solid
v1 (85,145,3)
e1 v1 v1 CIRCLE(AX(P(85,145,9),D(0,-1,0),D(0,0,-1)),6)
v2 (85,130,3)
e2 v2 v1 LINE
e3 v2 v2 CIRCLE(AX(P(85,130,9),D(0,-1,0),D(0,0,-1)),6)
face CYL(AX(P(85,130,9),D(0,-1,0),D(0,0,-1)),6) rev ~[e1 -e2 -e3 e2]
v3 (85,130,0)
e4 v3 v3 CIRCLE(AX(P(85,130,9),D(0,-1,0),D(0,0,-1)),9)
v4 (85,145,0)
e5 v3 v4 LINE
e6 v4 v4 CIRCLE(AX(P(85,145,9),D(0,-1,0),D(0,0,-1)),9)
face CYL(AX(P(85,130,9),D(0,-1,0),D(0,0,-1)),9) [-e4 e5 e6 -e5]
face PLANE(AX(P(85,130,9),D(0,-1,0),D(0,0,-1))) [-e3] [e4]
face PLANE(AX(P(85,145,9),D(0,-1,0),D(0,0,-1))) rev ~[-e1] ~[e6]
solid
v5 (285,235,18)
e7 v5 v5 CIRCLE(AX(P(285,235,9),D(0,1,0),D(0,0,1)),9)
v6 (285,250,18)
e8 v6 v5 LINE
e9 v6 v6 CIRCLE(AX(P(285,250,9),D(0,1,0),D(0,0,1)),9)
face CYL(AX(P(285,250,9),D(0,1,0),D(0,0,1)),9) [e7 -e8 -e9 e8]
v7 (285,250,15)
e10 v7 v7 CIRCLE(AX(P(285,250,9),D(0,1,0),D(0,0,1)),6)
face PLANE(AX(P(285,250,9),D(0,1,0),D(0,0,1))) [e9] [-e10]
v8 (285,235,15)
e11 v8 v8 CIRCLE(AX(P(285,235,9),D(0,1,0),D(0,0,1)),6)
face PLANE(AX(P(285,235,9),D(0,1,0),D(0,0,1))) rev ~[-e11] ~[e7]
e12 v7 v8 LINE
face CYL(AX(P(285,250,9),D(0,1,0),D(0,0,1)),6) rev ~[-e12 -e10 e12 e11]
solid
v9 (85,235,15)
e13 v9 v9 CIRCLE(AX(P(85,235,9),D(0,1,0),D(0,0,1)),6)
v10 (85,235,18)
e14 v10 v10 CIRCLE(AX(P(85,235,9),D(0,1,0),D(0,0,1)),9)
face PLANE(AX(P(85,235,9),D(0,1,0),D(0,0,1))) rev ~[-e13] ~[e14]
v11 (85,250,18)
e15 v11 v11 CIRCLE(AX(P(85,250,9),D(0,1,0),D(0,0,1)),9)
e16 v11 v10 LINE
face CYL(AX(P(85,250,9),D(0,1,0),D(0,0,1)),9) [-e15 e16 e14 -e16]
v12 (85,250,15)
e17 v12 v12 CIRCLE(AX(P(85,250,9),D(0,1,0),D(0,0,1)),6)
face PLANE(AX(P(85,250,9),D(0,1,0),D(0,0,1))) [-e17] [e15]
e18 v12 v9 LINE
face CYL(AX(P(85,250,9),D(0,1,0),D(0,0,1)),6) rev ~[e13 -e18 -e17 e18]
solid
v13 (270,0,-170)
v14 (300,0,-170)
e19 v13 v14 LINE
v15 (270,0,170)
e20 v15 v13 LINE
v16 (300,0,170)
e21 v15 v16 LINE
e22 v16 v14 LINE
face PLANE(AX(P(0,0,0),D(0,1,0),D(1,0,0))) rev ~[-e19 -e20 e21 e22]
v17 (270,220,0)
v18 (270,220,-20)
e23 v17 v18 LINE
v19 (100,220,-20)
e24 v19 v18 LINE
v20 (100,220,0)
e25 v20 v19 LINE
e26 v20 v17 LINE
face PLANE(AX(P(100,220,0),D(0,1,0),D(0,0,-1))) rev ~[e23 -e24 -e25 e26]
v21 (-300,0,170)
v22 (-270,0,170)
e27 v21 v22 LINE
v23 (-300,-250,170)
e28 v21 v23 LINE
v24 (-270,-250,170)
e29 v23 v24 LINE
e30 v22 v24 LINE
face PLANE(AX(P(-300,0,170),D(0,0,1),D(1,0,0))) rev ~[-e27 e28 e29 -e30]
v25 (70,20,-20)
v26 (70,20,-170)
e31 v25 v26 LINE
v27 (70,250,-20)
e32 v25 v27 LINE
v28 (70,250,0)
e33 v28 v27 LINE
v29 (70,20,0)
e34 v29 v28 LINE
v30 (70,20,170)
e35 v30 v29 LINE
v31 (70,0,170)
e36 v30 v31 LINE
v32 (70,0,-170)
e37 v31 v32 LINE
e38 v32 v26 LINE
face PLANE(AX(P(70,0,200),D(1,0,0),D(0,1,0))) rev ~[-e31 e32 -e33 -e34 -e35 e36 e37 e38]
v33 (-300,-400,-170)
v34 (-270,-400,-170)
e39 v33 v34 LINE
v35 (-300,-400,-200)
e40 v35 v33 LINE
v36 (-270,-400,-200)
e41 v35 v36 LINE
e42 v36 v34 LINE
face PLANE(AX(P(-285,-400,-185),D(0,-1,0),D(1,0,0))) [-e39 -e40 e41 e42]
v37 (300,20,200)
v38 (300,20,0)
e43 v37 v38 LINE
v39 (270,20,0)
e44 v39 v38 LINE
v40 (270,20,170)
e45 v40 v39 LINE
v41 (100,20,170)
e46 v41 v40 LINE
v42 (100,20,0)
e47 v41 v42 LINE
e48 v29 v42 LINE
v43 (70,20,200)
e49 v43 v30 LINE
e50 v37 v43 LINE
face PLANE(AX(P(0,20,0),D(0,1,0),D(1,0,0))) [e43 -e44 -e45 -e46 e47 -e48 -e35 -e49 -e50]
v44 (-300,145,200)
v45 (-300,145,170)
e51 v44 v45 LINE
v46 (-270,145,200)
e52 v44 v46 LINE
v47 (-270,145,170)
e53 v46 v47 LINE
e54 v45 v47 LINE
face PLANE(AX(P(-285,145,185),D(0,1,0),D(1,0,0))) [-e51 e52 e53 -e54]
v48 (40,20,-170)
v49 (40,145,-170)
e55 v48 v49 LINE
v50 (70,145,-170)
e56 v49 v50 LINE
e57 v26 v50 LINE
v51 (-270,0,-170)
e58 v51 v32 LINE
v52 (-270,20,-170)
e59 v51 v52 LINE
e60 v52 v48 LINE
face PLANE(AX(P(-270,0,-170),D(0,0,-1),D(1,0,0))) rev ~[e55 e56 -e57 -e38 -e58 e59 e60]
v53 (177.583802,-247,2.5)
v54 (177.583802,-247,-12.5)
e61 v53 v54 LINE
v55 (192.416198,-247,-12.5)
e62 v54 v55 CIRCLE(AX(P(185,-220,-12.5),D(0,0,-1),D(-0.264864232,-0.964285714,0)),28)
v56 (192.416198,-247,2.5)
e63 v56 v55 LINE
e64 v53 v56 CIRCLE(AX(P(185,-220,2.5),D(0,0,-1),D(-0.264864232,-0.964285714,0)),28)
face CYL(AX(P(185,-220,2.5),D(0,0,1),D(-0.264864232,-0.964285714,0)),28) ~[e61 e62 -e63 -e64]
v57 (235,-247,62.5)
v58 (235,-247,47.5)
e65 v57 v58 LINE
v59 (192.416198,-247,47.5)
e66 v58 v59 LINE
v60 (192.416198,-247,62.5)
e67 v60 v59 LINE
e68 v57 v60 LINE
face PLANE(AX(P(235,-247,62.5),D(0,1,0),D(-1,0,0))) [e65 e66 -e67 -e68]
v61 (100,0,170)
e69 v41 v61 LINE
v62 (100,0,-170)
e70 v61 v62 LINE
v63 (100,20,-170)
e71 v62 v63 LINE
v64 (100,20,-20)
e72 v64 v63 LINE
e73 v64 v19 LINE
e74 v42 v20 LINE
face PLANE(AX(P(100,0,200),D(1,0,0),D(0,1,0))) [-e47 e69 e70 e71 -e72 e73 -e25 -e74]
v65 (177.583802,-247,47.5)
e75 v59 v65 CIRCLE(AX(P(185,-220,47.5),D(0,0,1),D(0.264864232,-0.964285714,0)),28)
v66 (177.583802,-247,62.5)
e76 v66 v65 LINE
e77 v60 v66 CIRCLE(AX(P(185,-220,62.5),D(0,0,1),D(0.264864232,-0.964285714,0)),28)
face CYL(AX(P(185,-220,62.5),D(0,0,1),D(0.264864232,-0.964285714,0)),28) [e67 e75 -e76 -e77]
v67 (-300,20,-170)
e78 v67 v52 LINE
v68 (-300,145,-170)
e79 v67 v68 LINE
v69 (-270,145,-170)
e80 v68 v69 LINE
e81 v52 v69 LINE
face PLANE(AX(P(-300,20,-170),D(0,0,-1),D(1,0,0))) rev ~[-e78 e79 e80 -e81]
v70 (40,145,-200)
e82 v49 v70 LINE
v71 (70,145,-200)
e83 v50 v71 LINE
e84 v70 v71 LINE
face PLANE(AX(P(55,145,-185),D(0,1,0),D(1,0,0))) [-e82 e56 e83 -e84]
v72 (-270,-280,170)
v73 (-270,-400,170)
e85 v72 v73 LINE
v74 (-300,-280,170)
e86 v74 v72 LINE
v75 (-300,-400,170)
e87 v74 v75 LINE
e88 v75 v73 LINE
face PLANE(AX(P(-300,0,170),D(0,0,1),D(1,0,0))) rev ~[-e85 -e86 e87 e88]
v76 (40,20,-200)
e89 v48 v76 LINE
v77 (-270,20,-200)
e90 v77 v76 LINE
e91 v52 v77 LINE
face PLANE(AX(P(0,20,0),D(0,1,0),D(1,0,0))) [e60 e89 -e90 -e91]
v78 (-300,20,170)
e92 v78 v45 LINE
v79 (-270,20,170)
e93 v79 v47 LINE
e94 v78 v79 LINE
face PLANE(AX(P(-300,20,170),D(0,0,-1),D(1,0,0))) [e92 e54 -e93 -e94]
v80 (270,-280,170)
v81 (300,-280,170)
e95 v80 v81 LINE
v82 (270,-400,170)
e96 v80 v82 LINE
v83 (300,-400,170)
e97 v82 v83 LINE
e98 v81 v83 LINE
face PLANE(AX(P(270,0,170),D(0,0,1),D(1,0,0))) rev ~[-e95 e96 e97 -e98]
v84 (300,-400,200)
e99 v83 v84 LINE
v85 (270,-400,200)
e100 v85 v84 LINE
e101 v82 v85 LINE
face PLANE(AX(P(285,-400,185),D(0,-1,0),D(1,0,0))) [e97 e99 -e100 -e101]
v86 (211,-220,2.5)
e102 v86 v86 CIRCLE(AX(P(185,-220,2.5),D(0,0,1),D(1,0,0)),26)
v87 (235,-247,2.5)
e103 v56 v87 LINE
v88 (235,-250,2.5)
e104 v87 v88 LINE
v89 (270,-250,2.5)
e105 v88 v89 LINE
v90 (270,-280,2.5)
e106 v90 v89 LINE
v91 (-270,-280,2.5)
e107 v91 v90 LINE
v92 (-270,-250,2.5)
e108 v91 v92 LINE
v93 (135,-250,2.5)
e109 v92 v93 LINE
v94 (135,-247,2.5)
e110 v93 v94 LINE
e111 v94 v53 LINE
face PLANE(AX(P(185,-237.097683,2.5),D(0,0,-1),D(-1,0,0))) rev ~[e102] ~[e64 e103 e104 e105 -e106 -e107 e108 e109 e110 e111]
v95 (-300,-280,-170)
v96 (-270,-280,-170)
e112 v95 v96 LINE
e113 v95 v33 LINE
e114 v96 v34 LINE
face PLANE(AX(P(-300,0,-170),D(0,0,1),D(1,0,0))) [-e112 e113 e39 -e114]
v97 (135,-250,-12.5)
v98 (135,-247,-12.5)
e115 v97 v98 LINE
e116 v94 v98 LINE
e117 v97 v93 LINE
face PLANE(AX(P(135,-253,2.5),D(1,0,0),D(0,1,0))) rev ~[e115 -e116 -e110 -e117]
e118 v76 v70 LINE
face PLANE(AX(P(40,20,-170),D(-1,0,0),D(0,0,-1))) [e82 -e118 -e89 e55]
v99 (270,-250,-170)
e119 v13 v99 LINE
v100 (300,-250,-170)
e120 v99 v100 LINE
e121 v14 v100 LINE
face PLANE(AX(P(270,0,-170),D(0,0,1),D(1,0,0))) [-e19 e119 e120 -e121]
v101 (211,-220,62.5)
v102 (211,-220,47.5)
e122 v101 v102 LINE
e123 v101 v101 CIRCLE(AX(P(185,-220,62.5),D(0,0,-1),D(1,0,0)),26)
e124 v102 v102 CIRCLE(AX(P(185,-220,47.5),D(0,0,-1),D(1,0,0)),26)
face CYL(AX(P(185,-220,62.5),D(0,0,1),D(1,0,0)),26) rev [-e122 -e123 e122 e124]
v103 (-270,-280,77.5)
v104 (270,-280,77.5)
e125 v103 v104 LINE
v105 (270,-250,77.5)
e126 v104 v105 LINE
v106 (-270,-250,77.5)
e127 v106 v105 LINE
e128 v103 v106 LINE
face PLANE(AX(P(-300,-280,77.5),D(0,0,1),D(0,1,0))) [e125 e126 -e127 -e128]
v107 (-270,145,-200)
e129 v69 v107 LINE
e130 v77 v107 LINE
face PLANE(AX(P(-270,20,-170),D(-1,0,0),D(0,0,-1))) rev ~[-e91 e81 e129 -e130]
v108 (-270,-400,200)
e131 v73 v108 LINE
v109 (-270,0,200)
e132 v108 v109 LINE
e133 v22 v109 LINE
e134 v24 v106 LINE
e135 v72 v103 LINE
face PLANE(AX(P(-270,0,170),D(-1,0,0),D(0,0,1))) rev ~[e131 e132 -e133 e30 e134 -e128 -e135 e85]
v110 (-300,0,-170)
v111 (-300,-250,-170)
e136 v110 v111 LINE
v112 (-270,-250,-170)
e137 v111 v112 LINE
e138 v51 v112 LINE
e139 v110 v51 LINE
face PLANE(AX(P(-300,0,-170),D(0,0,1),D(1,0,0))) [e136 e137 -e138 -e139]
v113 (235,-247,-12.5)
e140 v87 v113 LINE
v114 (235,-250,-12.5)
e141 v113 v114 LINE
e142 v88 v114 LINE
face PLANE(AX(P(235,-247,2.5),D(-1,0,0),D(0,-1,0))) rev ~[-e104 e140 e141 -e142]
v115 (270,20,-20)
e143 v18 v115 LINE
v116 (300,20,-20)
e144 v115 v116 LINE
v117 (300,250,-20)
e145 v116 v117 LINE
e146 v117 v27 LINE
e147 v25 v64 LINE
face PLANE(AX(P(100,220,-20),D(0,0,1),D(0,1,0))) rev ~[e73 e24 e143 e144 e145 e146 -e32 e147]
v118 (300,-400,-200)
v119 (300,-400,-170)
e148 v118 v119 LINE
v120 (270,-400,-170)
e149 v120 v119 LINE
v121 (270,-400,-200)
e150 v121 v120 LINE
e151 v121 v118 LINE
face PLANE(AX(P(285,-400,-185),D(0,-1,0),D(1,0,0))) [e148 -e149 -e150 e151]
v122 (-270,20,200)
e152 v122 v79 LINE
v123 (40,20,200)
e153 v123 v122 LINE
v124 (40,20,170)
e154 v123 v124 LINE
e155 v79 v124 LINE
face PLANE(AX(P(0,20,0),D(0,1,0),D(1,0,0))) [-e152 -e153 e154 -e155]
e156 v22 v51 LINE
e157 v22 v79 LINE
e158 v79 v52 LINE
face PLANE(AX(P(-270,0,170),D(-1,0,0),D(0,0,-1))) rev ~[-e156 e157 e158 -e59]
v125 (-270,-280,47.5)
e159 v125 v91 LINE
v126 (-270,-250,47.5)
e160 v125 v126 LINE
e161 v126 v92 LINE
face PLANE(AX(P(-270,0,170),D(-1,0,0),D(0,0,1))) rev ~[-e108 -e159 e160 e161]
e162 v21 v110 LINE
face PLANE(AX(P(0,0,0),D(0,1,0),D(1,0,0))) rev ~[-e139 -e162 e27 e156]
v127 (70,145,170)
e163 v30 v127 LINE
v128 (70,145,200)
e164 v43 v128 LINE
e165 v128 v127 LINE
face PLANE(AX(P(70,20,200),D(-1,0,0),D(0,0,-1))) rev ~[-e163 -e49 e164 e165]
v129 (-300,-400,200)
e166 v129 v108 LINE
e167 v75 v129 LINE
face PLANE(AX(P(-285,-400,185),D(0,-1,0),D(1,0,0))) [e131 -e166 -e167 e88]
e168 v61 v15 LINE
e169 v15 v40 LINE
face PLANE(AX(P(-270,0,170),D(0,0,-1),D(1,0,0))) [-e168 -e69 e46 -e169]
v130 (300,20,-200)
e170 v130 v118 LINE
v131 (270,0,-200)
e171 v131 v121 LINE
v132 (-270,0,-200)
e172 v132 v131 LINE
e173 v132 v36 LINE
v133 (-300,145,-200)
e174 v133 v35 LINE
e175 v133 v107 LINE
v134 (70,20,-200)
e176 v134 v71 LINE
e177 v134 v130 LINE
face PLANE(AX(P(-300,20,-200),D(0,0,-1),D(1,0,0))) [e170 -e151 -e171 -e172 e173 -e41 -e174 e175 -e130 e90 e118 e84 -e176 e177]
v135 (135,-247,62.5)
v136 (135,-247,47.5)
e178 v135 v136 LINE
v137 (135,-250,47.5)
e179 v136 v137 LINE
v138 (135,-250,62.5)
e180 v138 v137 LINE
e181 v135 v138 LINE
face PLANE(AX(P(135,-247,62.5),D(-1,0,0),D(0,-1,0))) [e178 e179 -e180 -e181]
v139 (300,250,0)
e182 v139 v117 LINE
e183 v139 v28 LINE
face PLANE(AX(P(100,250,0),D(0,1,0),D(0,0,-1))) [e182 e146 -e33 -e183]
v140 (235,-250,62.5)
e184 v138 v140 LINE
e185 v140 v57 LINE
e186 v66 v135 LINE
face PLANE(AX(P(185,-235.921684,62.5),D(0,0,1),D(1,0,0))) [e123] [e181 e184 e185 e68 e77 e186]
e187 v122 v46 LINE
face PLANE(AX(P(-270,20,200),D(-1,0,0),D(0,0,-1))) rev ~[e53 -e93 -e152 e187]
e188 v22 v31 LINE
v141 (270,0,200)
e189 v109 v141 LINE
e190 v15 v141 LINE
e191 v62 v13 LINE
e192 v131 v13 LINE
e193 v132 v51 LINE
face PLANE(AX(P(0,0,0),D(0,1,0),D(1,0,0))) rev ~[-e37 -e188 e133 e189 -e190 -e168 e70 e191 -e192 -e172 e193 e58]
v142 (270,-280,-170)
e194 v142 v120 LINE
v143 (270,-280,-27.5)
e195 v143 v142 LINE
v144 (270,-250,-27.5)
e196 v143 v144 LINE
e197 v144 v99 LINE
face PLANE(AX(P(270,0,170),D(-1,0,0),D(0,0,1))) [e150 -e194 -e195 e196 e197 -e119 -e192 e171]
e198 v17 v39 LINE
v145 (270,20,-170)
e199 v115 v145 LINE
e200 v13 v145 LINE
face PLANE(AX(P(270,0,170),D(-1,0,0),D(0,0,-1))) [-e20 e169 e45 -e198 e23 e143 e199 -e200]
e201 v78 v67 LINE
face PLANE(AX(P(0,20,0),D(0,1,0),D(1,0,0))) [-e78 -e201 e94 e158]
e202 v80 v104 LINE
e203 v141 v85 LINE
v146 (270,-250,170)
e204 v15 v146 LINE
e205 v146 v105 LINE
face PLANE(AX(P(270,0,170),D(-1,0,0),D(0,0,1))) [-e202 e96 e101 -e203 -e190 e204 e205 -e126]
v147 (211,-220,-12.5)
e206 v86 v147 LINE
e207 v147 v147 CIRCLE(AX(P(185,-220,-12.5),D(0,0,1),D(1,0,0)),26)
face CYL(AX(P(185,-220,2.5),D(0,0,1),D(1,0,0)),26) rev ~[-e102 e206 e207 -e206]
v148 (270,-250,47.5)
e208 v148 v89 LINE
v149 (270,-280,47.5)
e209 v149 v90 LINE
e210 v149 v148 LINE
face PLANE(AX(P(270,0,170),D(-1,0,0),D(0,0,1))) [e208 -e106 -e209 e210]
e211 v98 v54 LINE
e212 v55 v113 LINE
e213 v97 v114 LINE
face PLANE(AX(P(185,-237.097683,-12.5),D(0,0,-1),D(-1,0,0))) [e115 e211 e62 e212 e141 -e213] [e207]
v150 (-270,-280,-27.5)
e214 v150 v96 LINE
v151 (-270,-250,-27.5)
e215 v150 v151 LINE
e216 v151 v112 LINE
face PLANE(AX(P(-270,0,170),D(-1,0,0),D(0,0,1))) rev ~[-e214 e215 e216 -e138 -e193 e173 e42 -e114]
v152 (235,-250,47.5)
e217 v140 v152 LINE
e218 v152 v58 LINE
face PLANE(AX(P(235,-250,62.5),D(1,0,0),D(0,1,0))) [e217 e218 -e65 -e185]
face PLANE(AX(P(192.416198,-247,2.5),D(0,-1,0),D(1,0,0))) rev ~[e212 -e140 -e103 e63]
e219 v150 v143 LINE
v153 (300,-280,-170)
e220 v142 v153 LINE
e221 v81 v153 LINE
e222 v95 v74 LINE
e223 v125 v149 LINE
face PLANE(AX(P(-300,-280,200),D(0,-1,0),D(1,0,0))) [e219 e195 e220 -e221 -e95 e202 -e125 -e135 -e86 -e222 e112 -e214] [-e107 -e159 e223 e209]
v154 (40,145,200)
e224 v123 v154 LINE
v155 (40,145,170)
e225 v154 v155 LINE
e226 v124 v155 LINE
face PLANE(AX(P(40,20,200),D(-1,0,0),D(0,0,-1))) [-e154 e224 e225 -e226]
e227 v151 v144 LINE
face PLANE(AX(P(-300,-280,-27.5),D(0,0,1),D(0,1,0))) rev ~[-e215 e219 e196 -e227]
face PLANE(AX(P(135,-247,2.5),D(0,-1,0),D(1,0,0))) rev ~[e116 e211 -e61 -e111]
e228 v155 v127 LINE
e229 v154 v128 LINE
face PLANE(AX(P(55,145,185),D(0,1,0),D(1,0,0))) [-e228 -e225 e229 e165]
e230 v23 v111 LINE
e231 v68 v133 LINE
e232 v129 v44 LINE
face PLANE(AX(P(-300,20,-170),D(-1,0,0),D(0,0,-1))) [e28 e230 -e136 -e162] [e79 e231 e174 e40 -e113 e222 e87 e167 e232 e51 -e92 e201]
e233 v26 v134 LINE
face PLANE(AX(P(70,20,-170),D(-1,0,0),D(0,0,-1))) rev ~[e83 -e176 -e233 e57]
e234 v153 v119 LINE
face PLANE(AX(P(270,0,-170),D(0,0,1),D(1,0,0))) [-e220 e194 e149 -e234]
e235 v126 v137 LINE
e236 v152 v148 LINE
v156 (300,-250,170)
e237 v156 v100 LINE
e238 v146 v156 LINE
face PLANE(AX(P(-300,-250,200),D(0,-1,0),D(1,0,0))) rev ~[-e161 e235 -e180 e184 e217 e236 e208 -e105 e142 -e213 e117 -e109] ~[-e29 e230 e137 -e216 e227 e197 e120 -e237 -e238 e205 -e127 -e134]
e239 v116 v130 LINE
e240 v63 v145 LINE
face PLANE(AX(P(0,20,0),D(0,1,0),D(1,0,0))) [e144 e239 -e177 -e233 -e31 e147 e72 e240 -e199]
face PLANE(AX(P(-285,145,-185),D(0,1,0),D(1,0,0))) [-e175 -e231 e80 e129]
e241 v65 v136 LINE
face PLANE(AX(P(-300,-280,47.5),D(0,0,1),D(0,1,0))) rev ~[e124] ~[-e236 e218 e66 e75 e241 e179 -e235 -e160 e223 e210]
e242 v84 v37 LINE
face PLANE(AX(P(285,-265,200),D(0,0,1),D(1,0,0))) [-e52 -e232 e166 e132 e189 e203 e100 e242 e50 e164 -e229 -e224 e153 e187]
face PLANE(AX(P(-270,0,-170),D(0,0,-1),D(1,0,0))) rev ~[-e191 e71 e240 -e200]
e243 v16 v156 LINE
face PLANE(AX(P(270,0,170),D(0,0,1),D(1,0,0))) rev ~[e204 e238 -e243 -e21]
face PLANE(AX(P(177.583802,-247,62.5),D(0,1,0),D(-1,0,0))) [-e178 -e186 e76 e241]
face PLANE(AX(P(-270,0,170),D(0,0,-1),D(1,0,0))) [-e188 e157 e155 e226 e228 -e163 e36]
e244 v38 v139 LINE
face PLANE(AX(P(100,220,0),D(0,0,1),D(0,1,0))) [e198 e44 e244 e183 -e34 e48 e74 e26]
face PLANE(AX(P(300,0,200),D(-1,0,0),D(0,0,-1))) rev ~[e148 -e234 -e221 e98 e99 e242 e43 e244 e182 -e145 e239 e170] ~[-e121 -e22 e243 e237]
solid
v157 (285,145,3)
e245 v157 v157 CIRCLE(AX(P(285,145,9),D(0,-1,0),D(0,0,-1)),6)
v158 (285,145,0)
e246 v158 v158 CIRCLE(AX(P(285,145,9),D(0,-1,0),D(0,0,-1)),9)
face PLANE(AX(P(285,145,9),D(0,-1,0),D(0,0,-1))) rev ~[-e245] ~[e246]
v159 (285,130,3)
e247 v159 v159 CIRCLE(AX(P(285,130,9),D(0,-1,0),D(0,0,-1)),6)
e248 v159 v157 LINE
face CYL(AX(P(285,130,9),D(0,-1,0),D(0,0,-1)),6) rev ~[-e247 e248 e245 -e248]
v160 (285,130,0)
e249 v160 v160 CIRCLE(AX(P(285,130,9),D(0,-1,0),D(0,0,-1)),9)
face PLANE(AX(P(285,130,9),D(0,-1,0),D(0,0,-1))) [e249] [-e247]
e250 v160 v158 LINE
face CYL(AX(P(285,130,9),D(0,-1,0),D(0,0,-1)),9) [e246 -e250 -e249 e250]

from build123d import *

# Parameters (mm, degrees)
SKETCH4_W              = 600
SKETCH4_H              = 400
SKETCH4_W_2            = 540
SKETCH4_H_2            = 340
BOSS_EXTRUDE2_DEPTH    = 20
SKETCH10_W             = 30
SKETCH10_H             = 20
BOSS_EXTRUDE7_DEPTH    = 370
SKETCH11_W             = 30
SKETCH11_H             = 20
BOSS_EXTRUDE8_DEPTH    = 230
SKETCH12_W             = 20
SKETCH12_H             = 30
BOSS_EXTRUDE9_DEPTH    = 170
SKETCH13_R             = 9
SKETCH13_R_2           = 6
BOSS_EXTRUDE10_DEPTH   = 15
BOSS_EXTRUDE10_2_DEPTH = 15
SKETCH14_W             = 20
SKETCH14_H             = 30
BOSS_EXTRUDE11_DEPTH   = 170
SKETCH15_R             = 9
SKETCH15_R_2           = 6
BOSS_EXTRUDE12_DEPTH   = 15
BOSS_EXTRUDE12_2_DEPTH = 15
SKETCH16_W             = 170
SKETCH16_H             = 30
CUT_EXTRUDE1_DEPTH     = 20
SKETCH17_W             = 30
SKETCH17_H             = 30
BOSS_EXTRUDE13_DEPTH   = 500
SKETCH18_W             = 30
SKETCH18_H             = 30
BOSS_EXTRUDE14_DEPTH   = 370
SKETCH19_W             = 30
SKETCH19_H             = 30
BOSS_EXTRUDE15_DEPTH   = 570
SKETCH21_R             = 26
BOSS_EXTRUDE17_DEPTH   = 15
BOSS_EXTRUDE18_START   = -15
SKETCH22_R             = 26
BOSS_EXTRUDE18_DEPTH   = 15
SKETCH23_W             = 30
SKETCH23_H             = 30
CUT_EXTRUDE2_DEPTH     = 100
SKETCH24_W             = 30
SKETCH24_H             = 30
BOSS_EXTRUDE19_DEPTH   = 125


with BuildPart() as part:
    # Sketch4 → Boss-Extrude2 (new body)
    with BuildSketch(Plane(origin=(0, 0, 0), x_dir=(1, 0, 0), z_dir=(0, 1, 0))):
        Rectangle(SKETCH4_W, SKETCH4_H)
        Rectangle(SKETCH4_W_2, SKETCH4_H_2, mode=Mode.SUBTRACT)
    extrude(amount=BOSS_EXTRUDE2_DEPTH)

    # Sketch10 → Boss-Extrude7 (add)
    with BuildSketch(Plane.XY.offset(200)):
        with Locations((85, 10)):
            Rectangle(SKETCH10_W, SKETCH10_H)
    extrude(amount=-BOSS_EXTRUDE7_DEPTH)

    # Sketch11 → Boss-Extrude8 (add)
    with BuildSketch(Plane(origin=(0, 20, 0), x_dir=(1, 0, 0), z_dir=(0, 1, 0))):
        with Locations((85, 10)):
            Rectangle(SKETCH11_W, SKETCH11_H)
        with Locations((285, 10)):
            Rectangle(SKETCH11_W, SKETCH11_H)
    extrude(amount=BOSS_EXTRUDE8_DEPTH)

    # Sketch12 → Boss-Extrude9 (add)
    with BuildSketch(Plane(origin=(100, 0, 0), x_dir=(0, 0, -1), z_dir=(1, 0, 0))):
        with Locations((10, 235)):
            Rectangle(SKETCH12_W, SKETCH12_H)
    extrude(amount=BOSS_EXTRUDE9_DEPTH)

    # Sketch14 → Boss-Extrude11 (add)
    with BuildSketch(Plane(origin=(100, 0, 0), x_dir=(0, 0, -1), z_dir=(1, 0, 0))):
        with Locations((10, 145)):
            Rectangle(SKETCH14_W, SKETCH14_H)
    extrude(amount=BOSS_EXTRUDE11_DEPTH)

    # Sketch16 → Cut-Extrude1 (cut)
    with BuildSketch(Plane(origin=(0, 0, -20), x_dir=(-1, 0, 0), z_dir=(0, 0, -1))):
        with Locations((-185, 145)):
            Rectangle(SKETCH16_W, SKETCH16_H)
    extrude(amount=-CUT_EXTRUDE1_DEPTH, mode=Mode.SUBTRACT)

    # Sketch17 → Boss-Extrude13 (add)
    with BuildSketch(Plane.XZ):
        with Locations((-285, 185)):
            Rectangle(SKETCH17_W, SKETCH17_H)
        with Locations((285, 185)):
            Rectangle(SKETCH17_W, SKETCH17_H)
        with Locations((285, -185)):
            Rectangle(SKETCH17_W, SKETCH17_H)
        with Locations((-285, -185)):
            Rectangle(SKETCH17_W, SKETCH17_H)
    extrude(amount=BOSS_EXTRUDE13_DEPTH)

    # Sketch18 → Boss-Extrude14 (add)
    with BuildSketch(Plane.XY.offset(200)):
        with Locations((285, -265)):
            Rectangle(SKETCH18_W, SKETCH18_H)
        with Locations((-285, -265)):
            Rectangle(SKETCH18_W, SKETCH18_H)
    extrude(amount=-BOSS_EXTRUDE14_DEPTH)

    # Sketch19 → Boss-Extrude15 (add)
    with BuildSketch(Plane.ZY.offset(300)):
        with Locations((-12.5, -265)):
            Rectangle(SKETCH19_W, SKETCH19_H)
        with Locations((62.5, -265)):
            Rectangle(SKETCH19_W, SKETCH19_H)
    extrude(amount=-BOSS_EXTRUDE15_DEPTH)

    # Sketch21 → Boss-Extrude17 (add)
    with BuildSketch(Plane.XY.offset(2.5)):
        with BuildLine():
            Line((192.416198487, -247), (235, -247))
            Line((235, -247), (235, -253))
            Line((235, -253), (135, -253))
            Line((135, -253), (135, -247))
            Line((135, -247), (177.583801513, -247))
            ThreePointArc((177.583801513, -247), (185, -192), (192.416198487, -247))
        make_face()
        with Locations((185, -220)):
            Circle(SKETCH21_R, mode=Mode.SUBTRACT)
    extrude(amount=-BOSS_EXTRUDE17_DEPTH)

    # Sketch22 → Boss-Extrude18 (add)
    with BuildSketch(Plane(origin=(0, 0, 47.5), x_dir=(-1, 0, 0), z_dir=(0, 0, -1)).offset(BOSS_EXTRUDE18_START)):
        with BuildLine():
            Line((-177.583801513, -247), (-135, -247))
            Line((-135, -247), (-135, -250))
            Line((-135, -250), (-235, -250))
            Line((-235, -250), (-235, -247))
            Line((-235, -247), (-192.416198487, -247))
            ThreePointArc((-192.416198487, -247), (-185, -192), (-177.583801513, -247))
        make_face()
        with Locations(Location((-185, -220, 0), (0, 0, 180))):
            Circle(SKETCH22_R, mode=Mode.SUBTRACT)
    extrude(amount=BOSS_EXTRUDE18_DEPTH)

    # Sketch23 → Cut-Extrude2 (cut)
    with BuildSketch(Plane.XZ.offset(500)):
        with Locations((-285, 185)):
            Rectangle(SKETCH23_W, SKETCH23_H)
        with Locations((285, 185)):
            Rectangle(SKETCH23_W, SKETCH23_H)
        with Locations((285, -185)):
            Rectangle(SKETCH23_W, SKETCH23_H)
        with Locations((-285, -185)):
            Rectangle(SKETCH23_W, SKETCH23_H)
    extrude(amount=-CUT_EXTRUDE2_DEPTH, mode=Mode.SUBTRACT)

    # Sketch24 → Boss-Extrude19 (add)
    with BuildSketch(Plane(origin=(0, 20, 0), x_dir=(1, 0, 0), z_dir=(0, 1, 0))):
        with Locations((-285, 185)):
            Rectangle(SKETCH24_W, SKETCH24_H)
        with Locations((55, 185)):
            Rectangle(SKETCH24_W, SKETCH24_H)
        with Locations((55, -185)):
            Rectangle(SKETCH24_W, SKETCH24_H)
        with Locations((-285, -185)):
            Rectangle(SKETCH24_W, SKETCH24_H)
    extrude(amount=BOSS_EXTRUDE19_DEPTH)


with BuildPart() as body_2:
    # Sketch13 → Boss-Extrude10 (new body)
    with BuildSketch(Plane(origin=(0, 250, 0), x_dir=(1, 0, 0), z_dir=(0, 1, 0))):
        with Locations(Location((85, -9, 0), (0, 0, 270))):
            Circle(SKETCH13_R)
        with Locations(Location((85, -9, 0), (0, 0, 270))):
            Circle(SKETCH13_R_2, mode=Mode.SUBTRACT)
    extrude(amount=-BOSS_EXTRUDE10_DEPTH)


with BuildPart() as body_3:
    # Sketch13 → Boss-Extrude10 2 (new body)
    with BuildSketch(Plane(origin=(0, 250, 0), x_dir=(1, 0, 0), z_dir=(0, 1, 0))):
        with Locations(Location((285, -9, 0), (0, 0, 270))):
            Circle(SKETCH13_R)
        with Locations(Location((285, -9, 0), (0, 0, 270))):
            Circle(SKETCH13_R_2, mode=Mode.SUBTRACT)
    extrude(amount=-BOSS_EXTRUDE10_2_DEPTH)


with BuildPart() as body_4:
    # Sketch15 → Boss-Extrude12 (new body)
    with BuildSketch(Plane.XZ.offset(-130)):
        with Locations(Location((85, 9, 0), (0, 0, 270))):
            Circle(SKETCH15_R)
        with Locations(Location((85, 9, 0), (0, 0, 270))):
            Circle(SKETCH15_R_2, mode=Mode.SUBTRACT)
    extrude(amount=-BOSS_EXTRUDE12_DEPTH)


with BuildPart() as body_5:
    # Sketch15 → Boss-Extrude12 2 (new body)
    with BuildSketch(Plane.XZ.offset(-130)):
        with Locations(Location((285, 9, 0), (0, 0, 270))):
            Circle(SKETCH15_R)
        with Locations(Location((285, 9, 0), (0, 0, 270))):
            Circle(SKETCH15_R_2, mode=Mode.SUBTRACT)
    extrude(amount=-BOSS_EXTRUDE12_2_DEPTH)


solid = Compound([part.part, body_2.part, body_3.part, body_4.part, body_5.part])
